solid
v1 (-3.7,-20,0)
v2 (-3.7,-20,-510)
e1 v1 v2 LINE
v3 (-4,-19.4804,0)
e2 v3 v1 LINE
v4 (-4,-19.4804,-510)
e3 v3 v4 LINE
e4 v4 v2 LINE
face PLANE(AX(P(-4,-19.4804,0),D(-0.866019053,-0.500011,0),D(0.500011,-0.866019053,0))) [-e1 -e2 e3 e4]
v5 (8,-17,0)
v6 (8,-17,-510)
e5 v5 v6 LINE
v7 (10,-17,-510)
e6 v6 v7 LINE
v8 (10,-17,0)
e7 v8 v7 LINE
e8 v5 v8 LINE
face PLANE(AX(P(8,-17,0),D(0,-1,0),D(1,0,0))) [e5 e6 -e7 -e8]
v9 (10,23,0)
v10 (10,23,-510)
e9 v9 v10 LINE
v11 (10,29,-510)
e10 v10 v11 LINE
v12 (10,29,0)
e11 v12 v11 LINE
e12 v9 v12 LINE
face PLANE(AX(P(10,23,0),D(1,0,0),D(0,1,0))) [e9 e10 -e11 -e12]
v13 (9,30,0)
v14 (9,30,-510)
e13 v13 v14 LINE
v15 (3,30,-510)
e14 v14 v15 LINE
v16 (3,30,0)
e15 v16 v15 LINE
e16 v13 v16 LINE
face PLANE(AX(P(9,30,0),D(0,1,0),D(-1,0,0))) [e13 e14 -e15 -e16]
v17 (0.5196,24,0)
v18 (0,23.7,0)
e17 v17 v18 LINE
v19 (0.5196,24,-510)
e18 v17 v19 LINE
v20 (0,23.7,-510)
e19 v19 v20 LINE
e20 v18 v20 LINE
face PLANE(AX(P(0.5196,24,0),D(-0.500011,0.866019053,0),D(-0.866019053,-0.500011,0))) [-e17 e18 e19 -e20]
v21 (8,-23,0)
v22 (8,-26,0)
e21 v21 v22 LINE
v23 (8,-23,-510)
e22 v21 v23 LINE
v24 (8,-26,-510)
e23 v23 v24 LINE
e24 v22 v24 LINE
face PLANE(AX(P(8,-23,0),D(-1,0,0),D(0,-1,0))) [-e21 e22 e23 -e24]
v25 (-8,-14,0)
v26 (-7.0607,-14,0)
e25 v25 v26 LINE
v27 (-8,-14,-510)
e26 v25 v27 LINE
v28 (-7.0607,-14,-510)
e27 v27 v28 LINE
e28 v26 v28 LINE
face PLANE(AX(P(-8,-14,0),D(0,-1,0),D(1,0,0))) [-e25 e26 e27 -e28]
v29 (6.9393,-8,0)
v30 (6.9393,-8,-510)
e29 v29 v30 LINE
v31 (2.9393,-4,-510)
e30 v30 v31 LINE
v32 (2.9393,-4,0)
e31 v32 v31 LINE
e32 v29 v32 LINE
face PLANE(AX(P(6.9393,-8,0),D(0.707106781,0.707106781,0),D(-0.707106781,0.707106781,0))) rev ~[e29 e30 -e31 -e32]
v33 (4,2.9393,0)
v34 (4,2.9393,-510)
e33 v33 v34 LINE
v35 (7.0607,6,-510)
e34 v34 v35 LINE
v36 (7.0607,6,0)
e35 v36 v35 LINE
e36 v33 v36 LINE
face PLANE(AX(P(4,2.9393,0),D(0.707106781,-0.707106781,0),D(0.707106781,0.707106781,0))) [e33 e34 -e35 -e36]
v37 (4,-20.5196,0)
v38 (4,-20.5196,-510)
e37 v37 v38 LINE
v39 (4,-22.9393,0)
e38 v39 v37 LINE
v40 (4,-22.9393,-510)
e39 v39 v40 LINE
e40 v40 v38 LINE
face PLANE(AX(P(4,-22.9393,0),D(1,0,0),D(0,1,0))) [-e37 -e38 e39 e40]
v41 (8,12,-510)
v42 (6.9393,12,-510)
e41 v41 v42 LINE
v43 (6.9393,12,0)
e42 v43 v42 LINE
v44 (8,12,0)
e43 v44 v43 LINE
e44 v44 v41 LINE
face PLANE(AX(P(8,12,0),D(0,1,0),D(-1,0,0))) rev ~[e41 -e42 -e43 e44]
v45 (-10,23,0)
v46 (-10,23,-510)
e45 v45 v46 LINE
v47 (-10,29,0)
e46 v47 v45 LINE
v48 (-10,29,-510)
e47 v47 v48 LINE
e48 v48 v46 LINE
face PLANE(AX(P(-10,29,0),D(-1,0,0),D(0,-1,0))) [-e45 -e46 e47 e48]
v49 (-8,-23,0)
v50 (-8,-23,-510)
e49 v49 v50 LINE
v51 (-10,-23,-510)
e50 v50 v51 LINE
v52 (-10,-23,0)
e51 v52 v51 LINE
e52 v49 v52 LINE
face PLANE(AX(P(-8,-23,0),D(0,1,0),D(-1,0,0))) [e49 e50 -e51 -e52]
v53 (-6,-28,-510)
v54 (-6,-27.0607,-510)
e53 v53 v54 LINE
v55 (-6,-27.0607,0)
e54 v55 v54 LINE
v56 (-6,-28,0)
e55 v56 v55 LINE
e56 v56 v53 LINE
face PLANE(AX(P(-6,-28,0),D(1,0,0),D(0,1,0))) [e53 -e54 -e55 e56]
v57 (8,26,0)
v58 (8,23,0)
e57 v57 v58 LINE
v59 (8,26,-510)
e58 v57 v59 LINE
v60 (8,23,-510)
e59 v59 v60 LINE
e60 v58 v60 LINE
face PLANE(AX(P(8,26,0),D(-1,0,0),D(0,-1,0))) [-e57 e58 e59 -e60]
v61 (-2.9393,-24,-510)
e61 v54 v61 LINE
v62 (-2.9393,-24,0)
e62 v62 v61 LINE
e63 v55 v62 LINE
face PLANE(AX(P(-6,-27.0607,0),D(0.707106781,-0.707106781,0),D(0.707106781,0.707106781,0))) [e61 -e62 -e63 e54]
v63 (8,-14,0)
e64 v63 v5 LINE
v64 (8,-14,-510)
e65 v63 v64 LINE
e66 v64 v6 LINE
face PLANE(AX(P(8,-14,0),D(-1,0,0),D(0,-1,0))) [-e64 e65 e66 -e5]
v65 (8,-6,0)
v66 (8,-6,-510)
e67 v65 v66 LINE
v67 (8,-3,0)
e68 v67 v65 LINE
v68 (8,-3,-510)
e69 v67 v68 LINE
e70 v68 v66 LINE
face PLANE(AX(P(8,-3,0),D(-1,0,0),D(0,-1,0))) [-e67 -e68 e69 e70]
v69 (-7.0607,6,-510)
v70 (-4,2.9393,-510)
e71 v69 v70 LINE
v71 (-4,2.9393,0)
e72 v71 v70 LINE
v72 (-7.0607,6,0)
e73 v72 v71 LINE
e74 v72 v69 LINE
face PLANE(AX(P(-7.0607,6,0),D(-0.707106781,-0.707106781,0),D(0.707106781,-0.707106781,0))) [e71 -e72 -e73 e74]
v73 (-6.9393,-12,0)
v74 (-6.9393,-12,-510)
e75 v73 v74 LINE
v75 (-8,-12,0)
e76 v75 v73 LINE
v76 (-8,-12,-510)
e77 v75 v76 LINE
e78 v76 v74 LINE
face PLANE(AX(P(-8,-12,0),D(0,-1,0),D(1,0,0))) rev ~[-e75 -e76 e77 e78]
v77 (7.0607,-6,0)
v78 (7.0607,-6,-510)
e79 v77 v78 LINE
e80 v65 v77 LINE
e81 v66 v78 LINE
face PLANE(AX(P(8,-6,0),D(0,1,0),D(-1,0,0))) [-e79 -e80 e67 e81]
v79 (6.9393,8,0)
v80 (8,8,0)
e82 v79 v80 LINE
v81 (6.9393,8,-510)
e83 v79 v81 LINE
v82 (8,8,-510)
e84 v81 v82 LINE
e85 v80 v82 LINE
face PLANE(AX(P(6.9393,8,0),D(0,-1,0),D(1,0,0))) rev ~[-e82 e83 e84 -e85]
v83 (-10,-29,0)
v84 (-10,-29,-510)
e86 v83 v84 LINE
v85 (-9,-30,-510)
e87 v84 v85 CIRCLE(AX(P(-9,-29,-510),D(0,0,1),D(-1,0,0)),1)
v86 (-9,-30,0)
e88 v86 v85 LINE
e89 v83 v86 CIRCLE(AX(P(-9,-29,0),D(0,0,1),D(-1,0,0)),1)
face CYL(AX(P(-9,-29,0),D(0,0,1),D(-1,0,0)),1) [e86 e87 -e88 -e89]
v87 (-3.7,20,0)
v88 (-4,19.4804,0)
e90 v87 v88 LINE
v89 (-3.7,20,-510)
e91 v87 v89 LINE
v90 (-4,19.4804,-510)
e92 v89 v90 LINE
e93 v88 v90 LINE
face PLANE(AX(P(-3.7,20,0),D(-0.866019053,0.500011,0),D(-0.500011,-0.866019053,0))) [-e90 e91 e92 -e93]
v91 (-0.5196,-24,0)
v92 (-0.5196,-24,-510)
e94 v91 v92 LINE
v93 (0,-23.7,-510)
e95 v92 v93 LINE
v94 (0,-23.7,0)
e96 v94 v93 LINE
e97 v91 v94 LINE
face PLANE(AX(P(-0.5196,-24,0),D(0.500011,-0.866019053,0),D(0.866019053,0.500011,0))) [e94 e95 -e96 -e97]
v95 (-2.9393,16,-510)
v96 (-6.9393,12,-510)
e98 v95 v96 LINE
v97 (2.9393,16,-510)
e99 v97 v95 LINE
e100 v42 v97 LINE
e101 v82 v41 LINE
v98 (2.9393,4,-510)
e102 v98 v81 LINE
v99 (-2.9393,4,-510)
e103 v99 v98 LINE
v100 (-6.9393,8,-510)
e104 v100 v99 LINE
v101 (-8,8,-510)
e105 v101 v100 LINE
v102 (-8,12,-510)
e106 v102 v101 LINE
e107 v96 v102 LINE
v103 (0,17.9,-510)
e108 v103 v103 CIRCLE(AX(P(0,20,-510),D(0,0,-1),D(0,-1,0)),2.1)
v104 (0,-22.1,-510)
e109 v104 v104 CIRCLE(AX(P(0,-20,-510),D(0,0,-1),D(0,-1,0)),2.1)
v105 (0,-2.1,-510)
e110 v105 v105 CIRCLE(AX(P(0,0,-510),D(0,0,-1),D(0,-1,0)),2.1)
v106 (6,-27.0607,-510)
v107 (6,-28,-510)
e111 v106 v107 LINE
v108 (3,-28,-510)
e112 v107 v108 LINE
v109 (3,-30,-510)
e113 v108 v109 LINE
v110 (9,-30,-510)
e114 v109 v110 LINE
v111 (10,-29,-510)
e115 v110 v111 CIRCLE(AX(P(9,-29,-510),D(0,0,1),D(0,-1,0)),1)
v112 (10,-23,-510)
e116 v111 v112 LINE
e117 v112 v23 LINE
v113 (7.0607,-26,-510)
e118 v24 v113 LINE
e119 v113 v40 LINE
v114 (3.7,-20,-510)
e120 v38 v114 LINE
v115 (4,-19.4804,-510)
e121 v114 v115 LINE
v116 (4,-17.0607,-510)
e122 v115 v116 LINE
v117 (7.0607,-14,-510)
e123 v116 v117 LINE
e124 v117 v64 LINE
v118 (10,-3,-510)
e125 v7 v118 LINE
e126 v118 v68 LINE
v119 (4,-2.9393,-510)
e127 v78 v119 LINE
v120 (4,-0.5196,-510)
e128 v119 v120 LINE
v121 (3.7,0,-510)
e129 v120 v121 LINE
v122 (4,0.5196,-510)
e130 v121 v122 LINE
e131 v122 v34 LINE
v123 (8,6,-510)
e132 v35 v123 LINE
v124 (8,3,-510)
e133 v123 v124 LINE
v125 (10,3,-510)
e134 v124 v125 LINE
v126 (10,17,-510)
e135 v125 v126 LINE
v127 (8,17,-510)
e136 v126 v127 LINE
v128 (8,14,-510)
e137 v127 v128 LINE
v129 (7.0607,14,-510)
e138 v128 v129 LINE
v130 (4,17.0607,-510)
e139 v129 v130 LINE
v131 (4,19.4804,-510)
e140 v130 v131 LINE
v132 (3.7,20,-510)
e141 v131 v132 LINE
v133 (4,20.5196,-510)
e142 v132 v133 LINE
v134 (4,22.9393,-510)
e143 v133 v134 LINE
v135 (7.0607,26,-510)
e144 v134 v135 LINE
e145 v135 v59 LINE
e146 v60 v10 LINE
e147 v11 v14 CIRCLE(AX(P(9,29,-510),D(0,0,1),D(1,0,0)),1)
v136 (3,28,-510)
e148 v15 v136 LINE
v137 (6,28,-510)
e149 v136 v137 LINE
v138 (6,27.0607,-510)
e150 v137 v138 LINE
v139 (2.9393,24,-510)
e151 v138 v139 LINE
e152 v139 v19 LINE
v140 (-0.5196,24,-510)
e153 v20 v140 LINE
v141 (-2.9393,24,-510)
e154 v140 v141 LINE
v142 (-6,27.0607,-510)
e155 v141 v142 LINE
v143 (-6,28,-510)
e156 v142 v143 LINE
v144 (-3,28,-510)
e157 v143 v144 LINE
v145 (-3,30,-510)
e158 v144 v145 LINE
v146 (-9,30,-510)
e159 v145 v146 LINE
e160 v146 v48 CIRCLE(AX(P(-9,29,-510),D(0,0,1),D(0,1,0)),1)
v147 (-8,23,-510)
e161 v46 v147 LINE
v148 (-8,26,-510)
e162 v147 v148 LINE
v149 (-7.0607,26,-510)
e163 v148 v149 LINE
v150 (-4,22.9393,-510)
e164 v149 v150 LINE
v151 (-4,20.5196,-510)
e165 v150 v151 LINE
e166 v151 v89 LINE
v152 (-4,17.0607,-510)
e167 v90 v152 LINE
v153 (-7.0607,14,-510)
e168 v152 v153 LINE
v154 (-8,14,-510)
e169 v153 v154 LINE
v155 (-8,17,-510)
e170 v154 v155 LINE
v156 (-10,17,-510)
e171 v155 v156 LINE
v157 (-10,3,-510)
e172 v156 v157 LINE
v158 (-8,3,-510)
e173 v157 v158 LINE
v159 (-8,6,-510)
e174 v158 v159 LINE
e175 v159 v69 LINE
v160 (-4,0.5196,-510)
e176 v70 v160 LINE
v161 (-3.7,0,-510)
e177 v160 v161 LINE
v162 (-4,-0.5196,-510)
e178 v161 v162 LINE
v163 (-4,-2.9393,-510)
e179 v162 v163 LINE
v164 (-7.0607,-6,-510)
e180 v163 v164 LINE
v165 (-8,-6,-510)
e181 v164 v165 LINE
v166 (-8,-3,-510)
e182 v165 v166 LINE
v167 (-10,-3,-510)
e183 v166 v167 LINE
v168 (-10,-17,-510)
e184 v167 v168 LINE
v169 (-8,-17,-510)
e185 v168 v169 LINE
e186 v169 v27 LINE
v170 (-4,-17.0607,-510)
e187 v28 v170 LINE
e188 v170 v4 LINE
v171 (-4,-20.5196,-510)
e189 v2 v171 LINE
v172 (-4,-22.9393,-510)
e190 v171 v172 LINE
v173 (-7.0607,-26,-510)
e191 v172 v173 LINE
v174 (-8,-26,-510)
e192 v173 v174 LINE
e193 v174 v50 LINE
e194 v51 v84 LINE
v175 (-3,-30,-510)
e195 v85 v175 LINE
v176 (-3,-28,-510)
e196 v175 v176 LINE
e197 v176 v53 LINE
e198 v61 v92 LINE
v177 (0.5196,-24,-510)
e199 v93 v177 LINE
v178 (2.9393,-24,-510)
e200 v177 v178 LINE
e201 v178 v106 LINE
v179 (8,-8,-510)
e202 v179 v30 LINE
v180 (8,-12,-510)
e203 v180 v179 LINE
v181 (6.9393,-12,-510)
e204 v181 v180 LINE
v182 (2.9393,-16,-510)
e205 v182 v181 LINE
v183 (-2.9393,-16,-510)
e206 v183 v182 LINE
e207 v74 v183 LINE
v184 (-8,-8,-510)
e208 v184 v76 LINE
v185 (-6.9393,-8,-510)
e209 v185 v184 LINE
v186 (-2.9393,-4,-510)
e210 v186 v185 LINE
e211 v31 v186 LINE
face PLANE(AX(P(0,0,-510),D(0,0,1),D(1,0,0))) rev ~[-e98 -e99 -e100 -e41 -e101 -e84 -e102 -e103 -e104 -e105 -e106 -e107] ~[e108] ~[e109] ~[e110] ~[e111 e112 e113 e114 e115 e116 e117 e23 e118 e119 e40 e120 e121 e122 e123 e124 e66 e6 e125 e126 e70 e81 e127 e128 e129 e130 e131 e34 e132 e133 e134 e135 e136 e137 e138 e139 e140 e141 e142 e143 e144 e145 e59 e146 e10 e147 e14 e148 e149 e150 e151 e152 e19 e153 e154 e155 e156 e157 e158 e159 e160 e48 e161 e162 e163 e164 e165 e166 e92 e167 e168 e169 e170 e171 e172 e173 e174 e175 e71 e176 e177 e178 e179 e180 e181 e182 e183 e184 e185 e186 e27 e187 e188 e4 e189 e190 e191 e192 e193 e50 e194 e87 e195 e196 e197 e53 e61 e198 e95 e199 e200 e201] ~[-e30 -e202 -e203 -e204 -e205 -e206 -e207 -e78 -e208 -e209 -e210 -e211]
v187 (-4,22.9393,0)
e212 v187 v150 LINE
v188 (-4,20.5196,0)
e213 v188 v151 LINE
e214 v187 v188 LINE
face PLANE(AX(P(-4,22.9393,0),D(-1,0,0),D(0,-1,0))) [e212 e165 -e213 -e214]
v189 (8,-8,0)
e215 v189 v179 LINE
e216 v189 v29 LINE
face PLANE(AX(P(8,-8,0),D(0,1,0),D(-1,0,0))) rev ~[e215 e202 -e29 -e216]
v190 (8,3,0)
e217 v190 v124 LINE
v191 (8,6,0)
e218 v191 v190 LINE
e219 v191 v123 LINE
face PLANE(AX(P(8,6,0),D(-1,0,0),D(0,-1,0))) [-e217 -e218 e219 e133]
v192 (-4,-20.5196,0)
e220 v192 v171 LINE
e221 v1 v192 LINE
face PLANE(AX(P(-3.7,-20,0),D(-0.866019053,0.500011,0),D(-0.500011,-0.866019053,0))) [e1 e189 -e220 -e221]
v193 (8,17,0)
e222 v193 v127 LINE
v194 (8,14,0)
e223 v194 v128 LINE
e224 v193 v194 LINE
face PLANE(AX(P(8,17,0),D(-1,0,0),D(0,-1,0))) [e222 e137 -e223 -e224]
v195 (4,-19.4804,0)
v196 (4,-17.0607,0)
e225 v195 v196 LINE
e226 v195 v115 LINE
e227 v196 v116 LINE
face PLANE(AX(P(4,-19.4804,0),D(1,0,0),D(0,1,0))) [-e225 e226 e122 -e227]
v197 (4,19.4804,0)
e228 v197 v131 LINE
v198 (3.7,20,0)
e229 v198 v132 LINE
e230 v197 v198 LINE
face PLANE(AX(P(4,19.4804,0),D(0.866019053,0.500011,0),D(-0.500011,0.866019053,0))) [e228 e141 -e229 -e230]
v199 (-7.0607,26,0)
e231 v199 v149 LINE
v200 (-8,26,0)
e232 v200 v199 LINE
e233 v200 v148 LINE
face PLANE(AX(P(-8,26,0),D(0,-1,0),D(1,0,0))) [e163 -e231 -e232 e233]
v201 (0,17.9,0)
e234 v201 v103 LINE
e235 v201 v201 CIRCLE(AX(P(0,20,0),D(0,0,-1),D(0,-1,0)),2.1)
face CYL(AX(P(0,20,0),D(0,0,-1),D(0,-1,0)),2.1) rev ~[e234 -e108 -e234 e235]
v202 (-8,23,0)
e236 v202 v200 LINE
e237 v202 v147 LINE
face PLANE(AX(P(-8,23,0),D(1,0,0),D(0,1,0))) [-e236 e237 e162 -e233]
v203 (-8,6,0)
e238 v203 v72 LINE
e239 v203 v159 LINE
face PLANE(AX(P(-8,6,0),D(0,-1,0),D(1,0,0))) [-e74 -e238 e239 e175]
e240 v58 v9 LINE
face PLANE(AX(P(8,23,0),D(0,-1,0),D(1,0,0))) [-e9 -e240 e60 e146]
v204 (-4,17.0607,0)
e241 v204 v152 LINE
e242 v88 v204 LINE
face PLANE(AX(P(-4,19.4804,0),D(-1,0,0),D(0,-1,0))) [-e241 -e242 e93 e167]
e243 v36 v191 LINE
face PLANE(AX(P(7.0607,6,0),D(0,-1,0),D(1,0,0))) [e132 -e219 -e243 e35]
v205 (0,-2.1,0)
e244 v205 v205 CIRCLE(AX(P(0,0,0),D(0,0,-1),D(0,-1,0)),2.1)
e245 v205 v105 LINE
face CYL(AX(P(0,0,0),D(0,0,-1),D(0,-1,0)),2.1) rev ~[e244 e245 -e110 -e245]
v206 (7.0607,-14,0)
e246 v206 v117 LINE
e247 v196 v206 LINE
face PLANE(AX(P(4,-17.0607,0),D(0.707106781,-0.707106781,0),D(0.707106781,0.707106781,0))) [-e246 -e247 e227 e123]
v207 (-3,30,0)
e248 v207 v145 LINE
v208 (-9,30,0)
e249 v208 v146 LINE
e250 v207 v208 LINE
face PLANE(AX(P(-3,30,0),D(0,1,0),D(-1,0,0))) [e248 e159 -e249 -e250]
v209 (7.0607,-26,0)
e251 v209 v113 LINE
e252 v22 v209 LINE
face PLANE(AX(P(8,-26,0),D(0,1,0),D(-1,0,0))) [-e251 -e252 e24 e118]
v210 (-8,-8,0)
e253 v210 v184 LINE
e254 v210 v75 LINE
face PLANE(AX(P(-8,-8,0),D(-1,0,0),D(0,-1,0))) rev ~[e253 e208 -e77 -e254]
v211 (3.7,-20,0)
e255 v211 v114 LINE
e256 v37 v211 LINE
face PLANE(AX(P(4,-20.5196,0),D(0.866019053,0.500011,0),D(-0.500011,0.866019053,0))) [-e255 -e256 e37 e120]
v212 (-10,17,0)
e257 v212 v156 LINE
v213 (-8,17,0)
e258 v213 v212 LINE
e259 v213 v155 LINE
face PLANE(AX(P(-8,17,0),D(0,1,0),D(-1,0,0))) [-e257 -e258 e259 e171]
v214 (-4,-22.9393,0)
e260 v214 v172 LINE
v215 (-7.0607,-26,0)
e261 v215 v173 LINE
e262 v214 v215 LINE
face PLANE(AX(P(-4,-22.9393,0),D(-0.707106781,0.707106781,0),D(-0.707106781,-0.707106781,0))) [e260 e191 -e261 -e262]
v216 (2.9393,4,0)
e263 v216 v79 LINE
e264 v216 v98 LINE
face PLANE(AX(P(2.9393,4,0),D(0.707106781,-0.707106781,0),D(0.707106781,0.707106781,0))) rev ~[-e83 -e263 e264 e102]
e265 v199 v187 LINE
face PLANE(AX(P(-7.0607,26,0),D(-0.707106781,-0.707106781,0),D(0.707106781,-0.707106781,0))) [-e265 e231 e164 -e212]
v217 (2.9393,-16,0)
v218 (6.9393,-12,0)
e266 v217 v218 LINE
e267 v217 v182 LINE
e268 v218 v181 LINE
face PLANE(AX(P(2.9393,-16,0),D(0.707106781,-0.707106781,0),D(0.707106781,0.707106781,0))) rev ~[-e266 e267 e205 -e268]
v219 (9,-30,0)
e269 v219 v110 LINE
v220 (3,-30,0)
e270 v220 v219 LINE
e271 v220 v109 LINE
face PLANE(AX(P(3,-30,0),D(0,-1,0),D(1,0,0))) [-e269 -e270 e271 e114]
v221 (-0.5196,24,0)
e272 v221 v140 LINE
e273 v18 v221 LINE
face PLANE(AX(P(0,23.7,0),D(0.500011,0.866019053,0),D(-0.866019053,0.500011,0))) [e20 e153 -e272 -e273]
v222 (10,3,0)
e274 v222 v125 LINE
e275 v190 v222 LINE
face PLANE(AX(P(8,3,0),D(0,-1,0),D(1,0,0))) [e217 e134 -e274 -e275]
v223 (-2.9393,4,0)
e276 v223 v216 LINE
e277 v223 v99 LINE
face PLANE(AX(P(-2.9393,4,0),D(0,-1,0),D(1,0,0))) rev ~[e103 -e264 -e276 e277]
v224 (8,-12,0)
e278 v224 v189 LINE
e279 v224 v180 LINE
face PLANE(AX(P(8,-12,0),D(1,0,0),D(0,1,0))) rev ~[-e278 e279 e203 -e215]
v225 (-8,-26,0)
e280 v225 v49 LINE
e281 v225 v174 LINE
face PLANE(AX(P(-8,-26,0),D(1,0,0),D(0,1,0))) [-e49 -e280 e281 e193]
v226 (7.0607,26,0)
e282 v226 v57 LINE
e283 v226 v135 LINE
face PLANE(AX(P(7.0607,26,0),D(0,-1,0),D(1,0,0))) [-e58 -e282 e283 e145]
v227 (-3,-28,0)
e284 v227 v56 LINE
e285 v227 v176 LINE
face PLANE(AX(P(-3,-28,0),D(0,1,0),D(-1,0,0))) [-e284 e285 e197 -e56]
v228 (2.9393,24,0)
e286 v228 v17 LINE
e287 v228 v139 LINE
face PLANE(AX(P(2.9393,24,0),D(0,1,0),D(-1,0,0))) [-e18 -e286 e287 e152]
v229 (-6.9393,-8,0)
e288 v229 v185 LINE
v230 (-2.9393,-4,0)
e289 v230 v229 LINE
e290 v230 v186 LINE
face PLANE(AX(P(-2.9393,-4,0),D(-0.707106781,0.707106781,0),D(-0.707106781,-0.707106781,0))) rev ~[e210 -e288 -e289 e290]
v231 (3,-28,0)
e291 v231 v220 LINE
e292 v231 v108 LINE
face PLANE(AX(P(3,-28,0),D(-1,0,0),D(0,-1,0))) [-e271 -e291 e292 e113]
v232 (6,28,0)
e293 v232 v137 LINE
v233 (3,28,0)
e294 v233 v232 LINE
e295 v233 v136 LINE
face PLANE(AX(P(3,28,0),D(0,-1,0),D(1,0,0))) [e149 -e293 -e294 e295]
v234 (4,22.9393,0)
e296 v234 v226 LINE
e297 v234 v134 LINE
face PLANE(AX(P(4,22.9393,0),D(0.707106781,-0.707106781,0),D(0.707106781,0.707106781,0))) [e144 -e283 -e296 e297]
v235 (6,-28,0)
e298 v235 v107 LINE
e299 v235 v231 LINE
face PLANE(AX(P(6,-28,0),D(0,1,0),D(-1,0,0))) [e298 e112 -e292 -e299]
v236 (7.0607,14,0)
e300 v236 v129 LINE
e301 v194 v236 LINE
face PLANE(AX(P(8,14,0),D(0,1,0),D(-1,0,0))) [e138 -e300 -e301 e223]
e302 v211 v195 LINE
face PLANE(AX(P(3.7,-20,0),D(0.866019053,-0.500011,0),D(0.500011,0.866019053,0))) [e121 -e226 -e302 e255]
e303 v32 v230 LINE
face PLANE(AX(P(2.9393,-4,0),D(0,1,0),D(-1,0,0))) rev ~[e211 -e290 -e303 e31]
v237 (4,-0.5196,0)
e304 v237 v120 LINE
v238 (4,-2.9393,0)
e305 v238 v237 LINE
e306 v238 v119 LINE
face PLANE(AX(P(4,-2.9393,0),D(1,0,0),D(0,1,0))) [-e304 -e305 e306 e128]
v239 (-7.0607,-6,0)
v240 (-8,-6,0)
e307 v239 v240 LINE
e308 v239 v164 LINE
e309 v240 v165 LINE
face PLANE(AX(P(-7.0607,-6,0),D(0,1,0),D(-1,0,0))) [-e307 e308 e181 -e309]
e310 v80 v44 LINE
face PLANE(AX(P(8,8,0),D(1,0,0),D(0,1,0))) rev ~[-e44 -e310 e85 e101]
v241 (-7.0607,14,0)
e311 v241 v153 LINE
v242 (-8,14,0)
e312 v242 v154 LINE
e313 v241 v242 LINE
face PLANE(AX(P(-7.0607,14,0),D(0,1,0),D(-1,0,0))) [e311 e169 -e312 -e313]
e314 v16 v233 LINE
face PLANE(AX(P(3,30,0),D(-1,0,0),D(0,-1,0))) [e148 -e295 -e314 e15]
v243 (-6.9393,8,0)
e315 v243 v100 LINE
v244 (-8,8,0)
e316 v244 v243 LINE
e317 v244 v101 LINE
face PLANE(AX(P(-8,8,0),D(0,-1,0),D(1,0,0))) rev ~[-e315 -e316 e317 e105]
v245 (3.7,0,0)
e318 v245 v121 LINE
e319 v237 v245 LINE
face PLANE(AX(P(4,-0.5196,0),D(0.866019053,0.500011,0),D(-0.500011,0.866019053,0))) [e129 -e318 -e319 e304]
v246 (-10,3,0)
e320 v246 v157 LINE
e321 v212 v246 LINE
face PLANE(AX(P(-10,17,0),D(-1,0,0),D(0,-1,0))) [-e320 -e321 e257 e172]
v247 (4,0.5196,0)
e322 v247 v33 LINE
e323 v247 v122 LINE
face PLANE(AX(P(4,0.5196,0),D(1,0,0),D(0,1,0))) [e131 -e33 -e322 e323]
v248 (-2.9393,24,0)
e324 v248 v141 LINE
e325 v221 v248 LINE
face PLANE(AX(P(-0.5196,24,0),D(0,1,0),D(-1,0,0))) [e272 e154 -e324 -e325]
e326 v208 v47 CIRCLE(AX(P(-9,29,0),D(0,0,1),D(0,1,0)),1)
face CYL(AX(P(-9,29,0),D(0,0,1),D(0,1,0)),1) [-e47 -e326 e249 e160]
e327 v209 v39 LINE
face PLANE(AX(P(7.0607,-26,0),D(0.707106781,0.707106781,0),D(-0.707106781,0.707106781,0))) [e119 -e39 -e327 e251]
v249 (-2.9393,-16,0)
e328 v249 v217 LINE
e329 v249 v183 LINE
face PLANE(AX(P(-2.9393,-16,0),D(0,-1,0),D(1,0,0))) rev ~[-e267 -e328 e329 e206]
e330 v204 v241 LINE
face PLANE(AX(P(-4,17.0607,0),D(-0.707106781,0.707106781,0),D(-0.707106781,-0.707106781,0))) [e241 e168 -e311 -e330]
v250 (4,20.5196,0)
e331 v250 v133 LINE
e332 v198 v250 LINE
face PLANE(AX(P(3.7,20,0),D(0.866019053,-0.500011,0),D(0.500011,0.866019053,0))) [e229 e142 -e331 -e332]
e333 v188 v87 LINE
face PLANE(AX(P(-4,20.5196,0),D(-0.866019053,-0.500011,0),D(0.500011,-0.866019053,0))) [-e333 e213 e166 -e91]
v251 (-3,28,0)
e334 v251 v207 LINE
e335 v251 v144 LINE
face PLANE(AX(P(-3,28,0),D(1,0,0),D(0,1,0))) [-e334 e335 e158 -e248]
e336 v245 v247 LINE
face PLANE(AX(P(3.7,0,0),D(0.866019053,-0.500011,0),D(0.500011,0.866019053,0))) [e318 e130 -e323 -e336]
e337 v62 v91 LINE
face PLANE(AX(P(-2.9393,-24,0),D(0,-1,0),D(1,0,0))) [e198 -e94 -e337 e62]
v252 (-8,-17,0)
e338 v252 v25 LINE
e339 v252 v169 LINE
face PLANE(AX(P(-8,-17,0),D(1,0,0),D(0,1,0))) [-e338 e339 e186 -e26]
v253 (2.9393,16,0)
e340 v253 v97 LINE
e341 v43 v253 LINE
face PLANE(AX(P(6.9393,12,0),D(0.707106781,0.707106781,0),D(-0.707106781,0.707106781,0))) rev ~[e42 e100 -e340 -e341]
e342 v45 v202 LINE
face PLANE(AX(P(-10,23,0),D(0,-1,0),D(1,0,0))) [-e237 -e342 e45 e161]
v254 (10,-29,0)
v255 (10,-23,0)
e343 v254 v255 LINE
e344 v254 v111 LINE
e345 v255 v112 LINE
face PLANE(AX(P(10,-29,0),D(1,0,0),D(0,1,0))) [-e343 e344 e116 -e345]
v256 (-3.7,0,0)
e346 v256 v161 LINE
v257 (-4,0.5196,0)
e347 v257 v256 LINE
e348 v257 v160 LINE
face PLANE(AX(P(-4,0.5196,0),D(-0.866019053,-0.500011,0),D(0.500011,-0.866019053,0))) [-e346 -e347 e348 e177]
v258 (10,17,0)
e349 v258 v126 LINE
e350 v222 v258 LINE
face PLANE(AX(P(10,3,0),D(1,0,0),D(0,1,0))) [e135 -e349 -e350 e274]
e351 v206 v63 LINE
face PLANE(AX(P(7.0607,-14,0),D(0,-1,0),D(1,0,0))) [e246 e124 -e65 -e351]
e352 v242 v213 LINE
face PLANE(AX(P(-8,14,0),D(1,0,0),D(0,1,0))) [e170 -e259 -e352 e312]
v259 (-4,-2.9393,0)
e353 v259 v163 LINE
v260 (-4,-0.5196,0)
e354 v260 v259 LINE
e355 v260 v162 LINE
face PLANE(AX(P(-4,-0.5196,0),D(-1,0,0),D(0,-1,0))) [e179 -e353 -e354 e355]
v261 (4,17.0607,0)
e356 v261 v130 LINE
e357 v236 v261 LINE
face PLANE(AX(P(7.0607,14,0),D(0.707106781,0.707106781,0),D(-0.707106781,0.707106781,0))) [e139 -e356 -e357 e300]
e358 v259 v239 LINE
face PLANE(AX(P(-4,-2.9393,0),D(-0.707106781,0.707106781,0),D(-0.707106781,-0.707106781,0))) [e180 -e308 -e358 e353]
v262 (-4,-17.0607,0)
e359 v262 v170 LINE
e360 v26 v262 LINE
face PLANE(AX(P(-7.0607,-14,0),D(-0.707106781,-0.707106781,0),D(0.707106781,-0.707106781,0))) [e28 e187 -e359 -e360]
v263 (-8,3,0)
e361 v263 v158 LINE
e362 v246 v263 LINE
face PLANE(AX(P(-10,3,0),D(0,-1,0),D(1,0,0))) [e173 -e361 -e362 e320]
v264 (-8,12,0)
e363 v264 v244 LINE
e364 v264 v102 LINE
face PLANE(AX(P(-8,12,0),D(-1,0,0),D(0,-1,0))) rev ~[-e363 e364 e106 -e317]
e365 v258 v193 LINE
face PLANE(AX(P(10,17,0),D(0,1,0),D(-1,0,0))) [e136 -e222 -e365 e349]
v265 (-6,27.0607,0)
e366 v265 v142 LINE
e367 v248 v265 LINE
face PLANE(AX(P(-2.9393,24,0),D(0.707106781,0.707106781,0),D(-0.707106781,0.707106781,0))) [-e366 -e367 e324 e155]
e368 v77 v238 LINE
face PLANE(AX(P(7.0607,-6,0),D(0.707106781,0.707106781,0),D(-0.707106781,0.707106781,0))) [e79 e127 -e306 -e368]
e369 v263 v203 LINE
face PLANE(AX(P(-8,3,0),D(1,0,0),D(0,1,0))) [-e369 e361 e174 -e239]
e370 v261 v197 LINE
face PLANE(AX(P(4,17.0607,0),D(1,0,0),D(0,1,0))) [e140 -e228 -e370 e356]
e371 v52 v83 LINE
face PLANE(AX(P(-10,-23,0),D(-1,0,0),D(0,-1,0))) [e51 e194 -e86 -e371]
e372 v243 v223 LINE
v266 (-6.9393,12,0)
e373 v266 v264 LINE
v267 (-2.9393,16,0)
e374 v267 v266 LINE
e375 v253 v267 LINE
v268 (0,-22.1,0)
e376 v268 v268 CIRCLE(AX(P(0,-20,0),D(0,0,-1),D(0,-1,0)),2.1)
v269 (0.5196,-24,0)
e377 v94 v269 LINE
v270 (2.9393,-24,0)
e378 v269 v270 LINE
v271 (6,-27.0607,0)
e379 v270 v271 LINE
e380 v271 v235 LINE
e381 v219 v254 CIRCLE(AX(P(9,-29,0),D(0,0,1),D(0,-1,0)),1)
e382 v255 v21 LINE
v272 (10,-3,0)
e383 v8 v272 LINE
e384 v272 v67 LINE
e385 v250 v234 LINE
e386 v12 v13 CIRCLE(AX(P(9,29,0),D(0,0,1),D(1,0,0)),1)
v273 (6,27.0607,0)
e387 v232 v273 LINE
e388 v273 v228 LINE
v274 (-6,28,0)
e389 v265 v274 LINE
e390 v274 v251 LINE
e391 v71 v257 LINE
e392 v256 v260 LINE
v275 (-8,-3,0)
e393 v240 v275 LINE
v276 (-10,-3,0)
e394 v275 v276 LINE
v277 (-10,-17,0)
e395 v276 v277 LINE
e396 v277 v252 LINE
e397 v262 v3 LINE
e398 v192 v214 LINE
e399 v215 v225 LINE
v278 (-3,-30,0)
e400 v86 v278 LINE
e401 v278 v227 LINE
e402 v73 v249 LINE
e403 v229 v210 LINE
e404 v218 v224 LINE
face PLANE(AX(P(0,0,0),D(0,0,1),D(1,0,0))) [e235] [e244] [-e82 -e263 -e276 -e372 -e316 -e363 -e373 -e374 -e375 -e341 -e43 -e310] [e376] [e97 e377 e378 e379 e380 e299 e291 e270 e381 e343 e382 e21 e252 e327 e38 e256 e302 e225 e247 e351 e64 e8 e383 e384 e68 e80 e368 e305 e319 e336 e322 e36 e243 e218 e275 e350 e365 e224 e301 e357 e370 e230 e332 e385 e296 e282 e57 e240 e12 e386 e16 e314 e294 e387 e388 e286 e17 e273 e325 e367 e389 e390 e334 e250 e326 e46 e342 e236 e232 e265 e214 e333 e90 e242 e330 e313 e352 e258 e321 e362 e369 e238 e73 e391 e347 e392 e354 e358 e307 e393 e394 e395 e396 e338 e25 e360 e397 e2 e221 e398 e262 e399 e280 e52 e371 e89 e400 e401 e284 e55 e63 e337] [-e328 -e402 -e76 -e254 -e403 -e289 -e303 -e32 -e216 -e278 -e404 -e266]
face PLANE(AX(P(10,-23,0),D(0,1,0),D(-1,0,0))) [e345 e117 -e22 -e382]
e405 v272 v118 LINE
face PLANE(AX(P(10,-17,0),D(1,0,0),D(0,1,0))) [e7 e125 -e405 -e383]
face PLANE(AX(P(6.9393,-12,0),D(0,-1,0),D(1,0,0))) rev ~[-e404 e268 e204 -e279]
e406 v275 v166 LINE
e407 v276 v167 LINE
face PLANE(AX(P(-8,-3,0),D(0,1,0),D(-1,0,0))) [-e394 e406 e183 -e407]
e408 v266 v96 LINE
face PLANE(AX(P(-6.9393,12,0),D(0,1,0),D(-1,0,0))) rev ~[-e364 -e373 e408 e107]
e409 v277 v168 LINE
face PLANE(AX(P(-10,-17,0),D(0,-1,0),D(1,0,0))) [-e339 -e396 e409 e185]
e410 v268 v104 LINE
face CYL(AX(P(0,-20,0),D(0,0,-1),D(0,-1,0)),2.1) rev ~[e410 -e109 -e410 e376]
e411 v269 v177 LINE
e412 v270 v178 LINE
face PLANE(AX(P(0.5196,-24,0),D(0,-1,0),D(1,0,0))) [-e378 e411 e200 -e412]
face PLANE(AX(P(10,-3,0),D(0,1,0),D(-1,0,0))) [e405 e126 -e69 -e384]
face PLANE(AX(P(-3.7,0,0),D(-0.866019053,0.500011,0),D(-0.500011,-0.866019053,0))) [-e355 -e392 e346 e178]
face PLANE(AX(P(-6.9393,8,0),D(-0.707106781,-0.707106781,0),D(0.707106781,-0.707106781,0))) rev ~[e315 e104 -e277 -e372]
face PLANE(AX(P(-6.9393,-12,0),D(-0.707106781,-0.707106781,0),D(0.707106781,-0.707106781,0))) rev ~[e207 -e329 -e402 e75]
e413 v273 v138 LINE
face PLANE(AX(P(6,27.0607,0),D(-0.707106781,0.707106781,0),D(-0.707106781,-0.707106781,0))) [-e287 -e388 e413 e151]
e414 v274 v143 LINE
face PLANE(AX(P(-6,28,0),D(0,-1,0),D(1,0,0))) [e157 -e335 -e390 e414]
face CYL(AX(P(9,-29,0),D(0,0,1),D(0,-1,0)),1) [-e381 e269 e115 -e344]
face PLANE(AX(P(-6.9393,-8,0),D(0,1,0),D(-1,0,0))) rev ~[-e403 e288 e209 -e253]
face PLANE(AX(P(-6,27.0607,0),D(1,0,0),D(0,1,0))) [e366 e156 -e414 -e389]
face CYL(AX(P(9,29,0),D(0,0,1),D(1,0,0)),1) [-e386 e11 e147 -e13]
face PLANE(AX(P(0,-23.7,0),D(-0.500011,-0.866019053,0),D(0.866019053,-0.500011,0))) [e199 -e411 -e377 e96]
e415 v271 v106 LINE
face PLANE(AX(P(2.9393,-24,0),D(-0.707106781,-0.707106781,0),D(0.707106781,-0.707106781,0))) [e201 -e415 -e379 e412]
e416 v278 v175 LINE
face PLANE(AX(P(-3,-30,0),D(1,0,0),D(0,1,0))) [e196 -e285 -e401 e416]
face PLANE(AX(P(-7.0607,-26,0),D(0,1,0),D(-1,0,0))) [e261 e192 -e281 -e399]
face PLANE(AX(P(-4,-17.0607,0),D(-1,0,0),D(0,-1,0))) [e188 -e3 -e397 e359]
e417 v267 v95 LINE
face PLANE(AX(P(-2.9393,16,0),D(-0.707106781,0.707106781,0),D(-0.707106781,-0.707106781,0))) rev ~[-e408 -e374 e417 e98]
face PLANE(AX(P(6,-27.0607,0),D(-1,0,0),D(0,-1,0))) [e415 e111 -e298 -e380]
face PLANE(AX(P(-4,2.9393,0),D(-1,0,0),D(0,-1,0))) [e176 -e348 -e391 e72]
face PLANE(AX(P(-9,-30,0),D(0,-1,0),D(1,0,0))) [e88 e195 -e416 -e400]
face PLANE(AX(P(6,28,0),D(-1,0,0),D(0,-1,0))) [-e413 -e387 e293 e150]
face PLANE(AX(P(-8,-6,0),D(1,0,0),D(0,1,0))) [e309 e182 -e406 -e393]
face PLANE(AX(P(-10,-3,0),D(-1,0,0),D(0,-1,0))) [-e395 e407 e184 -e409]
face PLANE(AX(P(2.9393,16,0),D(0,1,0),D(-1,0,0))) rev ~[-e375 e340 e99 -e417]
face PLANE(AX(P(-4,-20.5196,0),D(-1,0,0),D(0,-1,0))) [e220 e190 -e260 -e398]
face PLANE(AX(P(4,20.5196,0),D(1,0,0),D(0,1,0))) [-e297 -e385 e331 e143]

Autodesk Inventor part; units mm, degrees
ref_plane "YZ Plane" through (0, 0, 0) normal (1, 0, 0) x (0, 1, 0)
ref_plane "XZ Plane" through (0, 0, 0) normal (0, 1, 0) x (-1, 0, 0)
ref_plane "XY Plane" through (0, 0, 0) normal (0, 0, 1) x (1, 0, 0)
sketch "Sketch_100" plane through (0, 0, 0) normal (0, 0, 1) x (1, 0, 0)
  line L0 (-10, -17) -> (-8, -17)
  line L1 (-8, -17) -> (-8, -14)
  line L2 (-8, -14) -> (-7.0607, -14)
  line L3 (-7.0607, -14) -> (-4, -17.0607)
  line L4 (-4, -17.0607) -> (-4, -19.4804)
  line L5 (-4, -19.4804) -> (-3.7, -20)
  line L6 (-3.7, -20) -> (-4, -20.5196)
  line L7 (-4, -20.5196) -> (-4, -22.9393)
  line L8 (-4, -22.9393) -> (-7.0607, -26)
  line L9 (-7.0607, -26) -> (-8, -26)
  line L10 (-8, -26) -> (-8, -23)
  line L11 (-8, -23) -> (-10, -23)
  line L12 (-10, -23) -> (-10, -29)
  arc A0 (-10, -29) -> (-9, -30) centre (-9, -29) ccw
  line L13 (-9, -30) -> (-3, -30)
  line L14 (-3, -30) -> (-3, -28)
  line L15 (-3, -28) -> (-6, -28)
  line L16 (-6, -28) -> (-6, -27.0607)
  line L17 (-6, -27.0607) -> (-2.9393, -24)
  line L18 (-2.9393, -24) -> (-0.5196, -24)
  line L19 (-0.5196, -24) -> (0, -23.7)
  line L20 (0, -23.7) -> (0.5196, -24)
  line L21 (0.5196, -24) -> (2.9393, -24)
  line L22 (2.9393, -24) -> (6, -27.0607)
  line L23 (6, -27.0607) -> (6, -28)
  line L24 (6, -28) -> (3, -28)
  line L25 (3, -28) -> (3, -30)
  line L26 (3, -30) -> (9, -30)
  arc A1 (9, -30) -> (10, -29) centre (9, -29) ccw
  line L27 (10, -29) -> (10, -23)
  line L28 (10, -23) -> (8, -23)
  line L29 (8, -23) -> (8, -26)
  line L30 (8, -26) -> (7.0607, -26)
  line L31 (7.0607, -26) -> (4, -22.9393)
  line L32 (4, -22.9393) -> (4, -20.5196)
  line L33 (4, -20.5196) -> (3.7, -20)
  line L34 (3.7, -20) -> (4, -19.4804)
  line L35 (4, -19.4804) -> (4, -17.0607)
  line L36 (4, -17.0607) -> (7.0607, -14)
  line L37 (7.0607, -14) -> (8, -14)
  line L38 (8, -14) -> (8, -17)
  line L39 (8, -17) -> (10, -17)
  line L40 (10, -17) -> (10, -3)
  line L41 (10, -3) -> (8, -3)
  line L42 (8, -3) -> (8, -6)
  line L43 (8, -6) -> (7.0607, -6)
  line L44 (7.0607, -6) -> (4, -2.9393)
  line L45 (4, -2.9393) -> (4, -0.5196)
  line L46 (4, -0.5196) -> (3.7, 0)
  line L47 (3.7, 0) -> (4, 0.5196)
  line L48 (4, 0.5196) -> (4, 2.9393)
  line L49 (4, 2.9393) -> (7.0607, 6)
  line L50 (7.0607, 6) -> (8, 6)
  line L51 (8, 6) -> (8, 3)
  line L52 (8, 3) -> (10, 3)
  line L53 (10, 3) -> (10, 17)
  line L54 (10, 17) -> (8, 17)
  line L55 (8, 17) -> (8, 14)
  line L56 (8, 14) -> (7.0607, 14)
  line L57 (7.0607, 14) -> (4, 17.0607)
  line L58 (4, 17.0607) -> (4, 19.4804)
  line L59 (4, 19.4804) -> (3.7, 20)
  line L60 (3.7, 20) -> (4, 20.5196)
  line L61 (4, 20.5196) -> (4, 22.9393)
  line L62 (4, 22.9393) -> (7.0607, 26)
  line L63 (7.0607, 26) -> (8, 26)
  line L64 (8, 26) -> (8, 23)
  line L65 (8, 23) -> (10, 23)
  line L66 (10, 23) -> (10, 29)
  arc A2 (10, 29) -> (9, 30) centre (9, 29) ccw
  line L67 (9, 30) -> (3, 30)
  line L68 (3, 30) -> (3, 28)
  line L69 (3, 28) -> (6, 28)
  line L70 (6, 28) -> (6, 27.0607)
  line L71 (6, 27.0607) -> (2.9393, 24)
  line L72 (2.9393, 24) -> (0.5196, 24)
  line L73 (0.5196, 24) -> (0, 23.7)
  line L74 (0, 23.7) -> (-0.5196, 24)
  line L75 (-0.5196, 24) -> (-2.9393, 24)
  line L76 (-2.9393, 24) -> (-6, 27.0607)
  line L77 (-6, 27.0607) -> (-6, 28)
  line L78 (-6, 28) -> (-3, 28)
  line L79 (-3, 28) -> (-3, 30)
  line L80 (-3, 30) -> (-9, 30)
  arc A3 (-9, 30) -> (-10, 29) centre (-9, 29) ccw
  line L81 (-10, 29) -> (-10, 23)
  line L82 (-10, 23) -> (-8, 23)
  line L83 (-8, 23) -> (-8, 26)
  line L84 (-8, 26) -> (-7.0607, 26)
  line L85 (-7.0607, 26) -> (-4, 22.9393)
  line L86 (-4, 22.9393) -> (-4, 20.5196)
  line L87 (-4, 20.5196) -> (-3.7, 20)
  line L88 (-3.7, 20) -> (-4, 19.4804)
  line L89 (-4, 19.4804) -> (-4, 17.0607)
  line L90 (-4, 17.0607) -> (-7.0607, 14)
  line L91 (-7.0607, 14) -> (-8, 14)
  line L92 (-8, 14) -> (-8, 17)
  line L93 (-8, 17) -> (-10, 17)
  line L94 (-10, 17) -> (-10, 3)
  line L95 (-10, 3) -> (-8, 3)
  line L96 (-8, 3) -> (-8, 6)
  line L97 (-8, 6) -> (-7.0607, 6)
  line L98 (-7.0607, 6) -> (-4, 2.9393)
  line L99 (-4, 2.9393) -> (-4, 0.5196)
  line L100 (-4, 0.5196) -> (-3.7, 0)
  line L101 (-3.7, 0) -> (-4, -0.5196)
  line L102 (-4, -0.5196) -> (-4, -2.9393)
  line L103 (-4, -2.9393) -> (-7.0607, -6)
  line L104 (-7.0607, -6) -> (-8, -6)
  line L105 (-8, -6) -> (-8, -3)
  line L106 (-8, -3) -> (-10, -3)
  line L107 (-10, -3) -> (-10, -17)
  line L108 (-8, 8) -> (-6.9393, 8)
  line L109 (-6.9393, 8) -> (-2.9393, 4)
  line L110 (-2.9393, 4) -> (2.9393, 4)
  line L111 (2.9393, 4) -> (6.9393, 8)
  line L112 (6.9393, 8) -> (8, 8)
  line L113 (8, 8) -> (8, 12)
  line L114 (8, 12) -> (6.9393, 12)
  line L115 (6.9393, 12) -> (2.9393, 16)
  line L116 (2.9393, 16) -> (-2.9393, 16)
  line L117 (-2.9393, 16) -> (-6.9393, 12)
  line L118 (-6.9393, 12) -> (-8, 12)
  line L119 (-8, 12) -> (-8, 8)
  line L120 (-8, -8) -> (-8, -12)
  line L121 (-8, -12) -> (-6.9393, -12)
  line L122 (-6.9393, -12) -> (-2.9393, -16)
  line L123 (-2.9393, -16) -> (2.9393, -16)
  line L124 (2.9393, -16) -> (6.9393, -12)
  line L125 (6.9393, -12) -> (8, -12)
  line L126 (8, -12) -> (8, -8)
  line L127 (8, -8) -> (6.9393, -8)
  line L128 (6.9393, -8) -> (2.9393, -4)
  line L129 (2.9393, -4) -> (-2.9393, -4)
  line L130 (-2.9393, -4) -> (-6.9393, -8)
  line L131 (-6.9393, -8) -> (-8, -8)
extrude "Extrusion1" add sketch "Sketch_100" against normal blind 510
sketch "Sketch2" plane through (0, 0, 0) normal (0, 0, 1) x (1, 0, 0)
  point P0 (0, 20)
hole "Hole1" at (0, 20, 0) direction (0, 0, -1) diameter 4.2 depth 510
pattern_linear "Rectangular Pattern1" count 3 spacing 20 along (0, -1, 0) of "Hole1"
properties part number "HFS5-2060-510"
